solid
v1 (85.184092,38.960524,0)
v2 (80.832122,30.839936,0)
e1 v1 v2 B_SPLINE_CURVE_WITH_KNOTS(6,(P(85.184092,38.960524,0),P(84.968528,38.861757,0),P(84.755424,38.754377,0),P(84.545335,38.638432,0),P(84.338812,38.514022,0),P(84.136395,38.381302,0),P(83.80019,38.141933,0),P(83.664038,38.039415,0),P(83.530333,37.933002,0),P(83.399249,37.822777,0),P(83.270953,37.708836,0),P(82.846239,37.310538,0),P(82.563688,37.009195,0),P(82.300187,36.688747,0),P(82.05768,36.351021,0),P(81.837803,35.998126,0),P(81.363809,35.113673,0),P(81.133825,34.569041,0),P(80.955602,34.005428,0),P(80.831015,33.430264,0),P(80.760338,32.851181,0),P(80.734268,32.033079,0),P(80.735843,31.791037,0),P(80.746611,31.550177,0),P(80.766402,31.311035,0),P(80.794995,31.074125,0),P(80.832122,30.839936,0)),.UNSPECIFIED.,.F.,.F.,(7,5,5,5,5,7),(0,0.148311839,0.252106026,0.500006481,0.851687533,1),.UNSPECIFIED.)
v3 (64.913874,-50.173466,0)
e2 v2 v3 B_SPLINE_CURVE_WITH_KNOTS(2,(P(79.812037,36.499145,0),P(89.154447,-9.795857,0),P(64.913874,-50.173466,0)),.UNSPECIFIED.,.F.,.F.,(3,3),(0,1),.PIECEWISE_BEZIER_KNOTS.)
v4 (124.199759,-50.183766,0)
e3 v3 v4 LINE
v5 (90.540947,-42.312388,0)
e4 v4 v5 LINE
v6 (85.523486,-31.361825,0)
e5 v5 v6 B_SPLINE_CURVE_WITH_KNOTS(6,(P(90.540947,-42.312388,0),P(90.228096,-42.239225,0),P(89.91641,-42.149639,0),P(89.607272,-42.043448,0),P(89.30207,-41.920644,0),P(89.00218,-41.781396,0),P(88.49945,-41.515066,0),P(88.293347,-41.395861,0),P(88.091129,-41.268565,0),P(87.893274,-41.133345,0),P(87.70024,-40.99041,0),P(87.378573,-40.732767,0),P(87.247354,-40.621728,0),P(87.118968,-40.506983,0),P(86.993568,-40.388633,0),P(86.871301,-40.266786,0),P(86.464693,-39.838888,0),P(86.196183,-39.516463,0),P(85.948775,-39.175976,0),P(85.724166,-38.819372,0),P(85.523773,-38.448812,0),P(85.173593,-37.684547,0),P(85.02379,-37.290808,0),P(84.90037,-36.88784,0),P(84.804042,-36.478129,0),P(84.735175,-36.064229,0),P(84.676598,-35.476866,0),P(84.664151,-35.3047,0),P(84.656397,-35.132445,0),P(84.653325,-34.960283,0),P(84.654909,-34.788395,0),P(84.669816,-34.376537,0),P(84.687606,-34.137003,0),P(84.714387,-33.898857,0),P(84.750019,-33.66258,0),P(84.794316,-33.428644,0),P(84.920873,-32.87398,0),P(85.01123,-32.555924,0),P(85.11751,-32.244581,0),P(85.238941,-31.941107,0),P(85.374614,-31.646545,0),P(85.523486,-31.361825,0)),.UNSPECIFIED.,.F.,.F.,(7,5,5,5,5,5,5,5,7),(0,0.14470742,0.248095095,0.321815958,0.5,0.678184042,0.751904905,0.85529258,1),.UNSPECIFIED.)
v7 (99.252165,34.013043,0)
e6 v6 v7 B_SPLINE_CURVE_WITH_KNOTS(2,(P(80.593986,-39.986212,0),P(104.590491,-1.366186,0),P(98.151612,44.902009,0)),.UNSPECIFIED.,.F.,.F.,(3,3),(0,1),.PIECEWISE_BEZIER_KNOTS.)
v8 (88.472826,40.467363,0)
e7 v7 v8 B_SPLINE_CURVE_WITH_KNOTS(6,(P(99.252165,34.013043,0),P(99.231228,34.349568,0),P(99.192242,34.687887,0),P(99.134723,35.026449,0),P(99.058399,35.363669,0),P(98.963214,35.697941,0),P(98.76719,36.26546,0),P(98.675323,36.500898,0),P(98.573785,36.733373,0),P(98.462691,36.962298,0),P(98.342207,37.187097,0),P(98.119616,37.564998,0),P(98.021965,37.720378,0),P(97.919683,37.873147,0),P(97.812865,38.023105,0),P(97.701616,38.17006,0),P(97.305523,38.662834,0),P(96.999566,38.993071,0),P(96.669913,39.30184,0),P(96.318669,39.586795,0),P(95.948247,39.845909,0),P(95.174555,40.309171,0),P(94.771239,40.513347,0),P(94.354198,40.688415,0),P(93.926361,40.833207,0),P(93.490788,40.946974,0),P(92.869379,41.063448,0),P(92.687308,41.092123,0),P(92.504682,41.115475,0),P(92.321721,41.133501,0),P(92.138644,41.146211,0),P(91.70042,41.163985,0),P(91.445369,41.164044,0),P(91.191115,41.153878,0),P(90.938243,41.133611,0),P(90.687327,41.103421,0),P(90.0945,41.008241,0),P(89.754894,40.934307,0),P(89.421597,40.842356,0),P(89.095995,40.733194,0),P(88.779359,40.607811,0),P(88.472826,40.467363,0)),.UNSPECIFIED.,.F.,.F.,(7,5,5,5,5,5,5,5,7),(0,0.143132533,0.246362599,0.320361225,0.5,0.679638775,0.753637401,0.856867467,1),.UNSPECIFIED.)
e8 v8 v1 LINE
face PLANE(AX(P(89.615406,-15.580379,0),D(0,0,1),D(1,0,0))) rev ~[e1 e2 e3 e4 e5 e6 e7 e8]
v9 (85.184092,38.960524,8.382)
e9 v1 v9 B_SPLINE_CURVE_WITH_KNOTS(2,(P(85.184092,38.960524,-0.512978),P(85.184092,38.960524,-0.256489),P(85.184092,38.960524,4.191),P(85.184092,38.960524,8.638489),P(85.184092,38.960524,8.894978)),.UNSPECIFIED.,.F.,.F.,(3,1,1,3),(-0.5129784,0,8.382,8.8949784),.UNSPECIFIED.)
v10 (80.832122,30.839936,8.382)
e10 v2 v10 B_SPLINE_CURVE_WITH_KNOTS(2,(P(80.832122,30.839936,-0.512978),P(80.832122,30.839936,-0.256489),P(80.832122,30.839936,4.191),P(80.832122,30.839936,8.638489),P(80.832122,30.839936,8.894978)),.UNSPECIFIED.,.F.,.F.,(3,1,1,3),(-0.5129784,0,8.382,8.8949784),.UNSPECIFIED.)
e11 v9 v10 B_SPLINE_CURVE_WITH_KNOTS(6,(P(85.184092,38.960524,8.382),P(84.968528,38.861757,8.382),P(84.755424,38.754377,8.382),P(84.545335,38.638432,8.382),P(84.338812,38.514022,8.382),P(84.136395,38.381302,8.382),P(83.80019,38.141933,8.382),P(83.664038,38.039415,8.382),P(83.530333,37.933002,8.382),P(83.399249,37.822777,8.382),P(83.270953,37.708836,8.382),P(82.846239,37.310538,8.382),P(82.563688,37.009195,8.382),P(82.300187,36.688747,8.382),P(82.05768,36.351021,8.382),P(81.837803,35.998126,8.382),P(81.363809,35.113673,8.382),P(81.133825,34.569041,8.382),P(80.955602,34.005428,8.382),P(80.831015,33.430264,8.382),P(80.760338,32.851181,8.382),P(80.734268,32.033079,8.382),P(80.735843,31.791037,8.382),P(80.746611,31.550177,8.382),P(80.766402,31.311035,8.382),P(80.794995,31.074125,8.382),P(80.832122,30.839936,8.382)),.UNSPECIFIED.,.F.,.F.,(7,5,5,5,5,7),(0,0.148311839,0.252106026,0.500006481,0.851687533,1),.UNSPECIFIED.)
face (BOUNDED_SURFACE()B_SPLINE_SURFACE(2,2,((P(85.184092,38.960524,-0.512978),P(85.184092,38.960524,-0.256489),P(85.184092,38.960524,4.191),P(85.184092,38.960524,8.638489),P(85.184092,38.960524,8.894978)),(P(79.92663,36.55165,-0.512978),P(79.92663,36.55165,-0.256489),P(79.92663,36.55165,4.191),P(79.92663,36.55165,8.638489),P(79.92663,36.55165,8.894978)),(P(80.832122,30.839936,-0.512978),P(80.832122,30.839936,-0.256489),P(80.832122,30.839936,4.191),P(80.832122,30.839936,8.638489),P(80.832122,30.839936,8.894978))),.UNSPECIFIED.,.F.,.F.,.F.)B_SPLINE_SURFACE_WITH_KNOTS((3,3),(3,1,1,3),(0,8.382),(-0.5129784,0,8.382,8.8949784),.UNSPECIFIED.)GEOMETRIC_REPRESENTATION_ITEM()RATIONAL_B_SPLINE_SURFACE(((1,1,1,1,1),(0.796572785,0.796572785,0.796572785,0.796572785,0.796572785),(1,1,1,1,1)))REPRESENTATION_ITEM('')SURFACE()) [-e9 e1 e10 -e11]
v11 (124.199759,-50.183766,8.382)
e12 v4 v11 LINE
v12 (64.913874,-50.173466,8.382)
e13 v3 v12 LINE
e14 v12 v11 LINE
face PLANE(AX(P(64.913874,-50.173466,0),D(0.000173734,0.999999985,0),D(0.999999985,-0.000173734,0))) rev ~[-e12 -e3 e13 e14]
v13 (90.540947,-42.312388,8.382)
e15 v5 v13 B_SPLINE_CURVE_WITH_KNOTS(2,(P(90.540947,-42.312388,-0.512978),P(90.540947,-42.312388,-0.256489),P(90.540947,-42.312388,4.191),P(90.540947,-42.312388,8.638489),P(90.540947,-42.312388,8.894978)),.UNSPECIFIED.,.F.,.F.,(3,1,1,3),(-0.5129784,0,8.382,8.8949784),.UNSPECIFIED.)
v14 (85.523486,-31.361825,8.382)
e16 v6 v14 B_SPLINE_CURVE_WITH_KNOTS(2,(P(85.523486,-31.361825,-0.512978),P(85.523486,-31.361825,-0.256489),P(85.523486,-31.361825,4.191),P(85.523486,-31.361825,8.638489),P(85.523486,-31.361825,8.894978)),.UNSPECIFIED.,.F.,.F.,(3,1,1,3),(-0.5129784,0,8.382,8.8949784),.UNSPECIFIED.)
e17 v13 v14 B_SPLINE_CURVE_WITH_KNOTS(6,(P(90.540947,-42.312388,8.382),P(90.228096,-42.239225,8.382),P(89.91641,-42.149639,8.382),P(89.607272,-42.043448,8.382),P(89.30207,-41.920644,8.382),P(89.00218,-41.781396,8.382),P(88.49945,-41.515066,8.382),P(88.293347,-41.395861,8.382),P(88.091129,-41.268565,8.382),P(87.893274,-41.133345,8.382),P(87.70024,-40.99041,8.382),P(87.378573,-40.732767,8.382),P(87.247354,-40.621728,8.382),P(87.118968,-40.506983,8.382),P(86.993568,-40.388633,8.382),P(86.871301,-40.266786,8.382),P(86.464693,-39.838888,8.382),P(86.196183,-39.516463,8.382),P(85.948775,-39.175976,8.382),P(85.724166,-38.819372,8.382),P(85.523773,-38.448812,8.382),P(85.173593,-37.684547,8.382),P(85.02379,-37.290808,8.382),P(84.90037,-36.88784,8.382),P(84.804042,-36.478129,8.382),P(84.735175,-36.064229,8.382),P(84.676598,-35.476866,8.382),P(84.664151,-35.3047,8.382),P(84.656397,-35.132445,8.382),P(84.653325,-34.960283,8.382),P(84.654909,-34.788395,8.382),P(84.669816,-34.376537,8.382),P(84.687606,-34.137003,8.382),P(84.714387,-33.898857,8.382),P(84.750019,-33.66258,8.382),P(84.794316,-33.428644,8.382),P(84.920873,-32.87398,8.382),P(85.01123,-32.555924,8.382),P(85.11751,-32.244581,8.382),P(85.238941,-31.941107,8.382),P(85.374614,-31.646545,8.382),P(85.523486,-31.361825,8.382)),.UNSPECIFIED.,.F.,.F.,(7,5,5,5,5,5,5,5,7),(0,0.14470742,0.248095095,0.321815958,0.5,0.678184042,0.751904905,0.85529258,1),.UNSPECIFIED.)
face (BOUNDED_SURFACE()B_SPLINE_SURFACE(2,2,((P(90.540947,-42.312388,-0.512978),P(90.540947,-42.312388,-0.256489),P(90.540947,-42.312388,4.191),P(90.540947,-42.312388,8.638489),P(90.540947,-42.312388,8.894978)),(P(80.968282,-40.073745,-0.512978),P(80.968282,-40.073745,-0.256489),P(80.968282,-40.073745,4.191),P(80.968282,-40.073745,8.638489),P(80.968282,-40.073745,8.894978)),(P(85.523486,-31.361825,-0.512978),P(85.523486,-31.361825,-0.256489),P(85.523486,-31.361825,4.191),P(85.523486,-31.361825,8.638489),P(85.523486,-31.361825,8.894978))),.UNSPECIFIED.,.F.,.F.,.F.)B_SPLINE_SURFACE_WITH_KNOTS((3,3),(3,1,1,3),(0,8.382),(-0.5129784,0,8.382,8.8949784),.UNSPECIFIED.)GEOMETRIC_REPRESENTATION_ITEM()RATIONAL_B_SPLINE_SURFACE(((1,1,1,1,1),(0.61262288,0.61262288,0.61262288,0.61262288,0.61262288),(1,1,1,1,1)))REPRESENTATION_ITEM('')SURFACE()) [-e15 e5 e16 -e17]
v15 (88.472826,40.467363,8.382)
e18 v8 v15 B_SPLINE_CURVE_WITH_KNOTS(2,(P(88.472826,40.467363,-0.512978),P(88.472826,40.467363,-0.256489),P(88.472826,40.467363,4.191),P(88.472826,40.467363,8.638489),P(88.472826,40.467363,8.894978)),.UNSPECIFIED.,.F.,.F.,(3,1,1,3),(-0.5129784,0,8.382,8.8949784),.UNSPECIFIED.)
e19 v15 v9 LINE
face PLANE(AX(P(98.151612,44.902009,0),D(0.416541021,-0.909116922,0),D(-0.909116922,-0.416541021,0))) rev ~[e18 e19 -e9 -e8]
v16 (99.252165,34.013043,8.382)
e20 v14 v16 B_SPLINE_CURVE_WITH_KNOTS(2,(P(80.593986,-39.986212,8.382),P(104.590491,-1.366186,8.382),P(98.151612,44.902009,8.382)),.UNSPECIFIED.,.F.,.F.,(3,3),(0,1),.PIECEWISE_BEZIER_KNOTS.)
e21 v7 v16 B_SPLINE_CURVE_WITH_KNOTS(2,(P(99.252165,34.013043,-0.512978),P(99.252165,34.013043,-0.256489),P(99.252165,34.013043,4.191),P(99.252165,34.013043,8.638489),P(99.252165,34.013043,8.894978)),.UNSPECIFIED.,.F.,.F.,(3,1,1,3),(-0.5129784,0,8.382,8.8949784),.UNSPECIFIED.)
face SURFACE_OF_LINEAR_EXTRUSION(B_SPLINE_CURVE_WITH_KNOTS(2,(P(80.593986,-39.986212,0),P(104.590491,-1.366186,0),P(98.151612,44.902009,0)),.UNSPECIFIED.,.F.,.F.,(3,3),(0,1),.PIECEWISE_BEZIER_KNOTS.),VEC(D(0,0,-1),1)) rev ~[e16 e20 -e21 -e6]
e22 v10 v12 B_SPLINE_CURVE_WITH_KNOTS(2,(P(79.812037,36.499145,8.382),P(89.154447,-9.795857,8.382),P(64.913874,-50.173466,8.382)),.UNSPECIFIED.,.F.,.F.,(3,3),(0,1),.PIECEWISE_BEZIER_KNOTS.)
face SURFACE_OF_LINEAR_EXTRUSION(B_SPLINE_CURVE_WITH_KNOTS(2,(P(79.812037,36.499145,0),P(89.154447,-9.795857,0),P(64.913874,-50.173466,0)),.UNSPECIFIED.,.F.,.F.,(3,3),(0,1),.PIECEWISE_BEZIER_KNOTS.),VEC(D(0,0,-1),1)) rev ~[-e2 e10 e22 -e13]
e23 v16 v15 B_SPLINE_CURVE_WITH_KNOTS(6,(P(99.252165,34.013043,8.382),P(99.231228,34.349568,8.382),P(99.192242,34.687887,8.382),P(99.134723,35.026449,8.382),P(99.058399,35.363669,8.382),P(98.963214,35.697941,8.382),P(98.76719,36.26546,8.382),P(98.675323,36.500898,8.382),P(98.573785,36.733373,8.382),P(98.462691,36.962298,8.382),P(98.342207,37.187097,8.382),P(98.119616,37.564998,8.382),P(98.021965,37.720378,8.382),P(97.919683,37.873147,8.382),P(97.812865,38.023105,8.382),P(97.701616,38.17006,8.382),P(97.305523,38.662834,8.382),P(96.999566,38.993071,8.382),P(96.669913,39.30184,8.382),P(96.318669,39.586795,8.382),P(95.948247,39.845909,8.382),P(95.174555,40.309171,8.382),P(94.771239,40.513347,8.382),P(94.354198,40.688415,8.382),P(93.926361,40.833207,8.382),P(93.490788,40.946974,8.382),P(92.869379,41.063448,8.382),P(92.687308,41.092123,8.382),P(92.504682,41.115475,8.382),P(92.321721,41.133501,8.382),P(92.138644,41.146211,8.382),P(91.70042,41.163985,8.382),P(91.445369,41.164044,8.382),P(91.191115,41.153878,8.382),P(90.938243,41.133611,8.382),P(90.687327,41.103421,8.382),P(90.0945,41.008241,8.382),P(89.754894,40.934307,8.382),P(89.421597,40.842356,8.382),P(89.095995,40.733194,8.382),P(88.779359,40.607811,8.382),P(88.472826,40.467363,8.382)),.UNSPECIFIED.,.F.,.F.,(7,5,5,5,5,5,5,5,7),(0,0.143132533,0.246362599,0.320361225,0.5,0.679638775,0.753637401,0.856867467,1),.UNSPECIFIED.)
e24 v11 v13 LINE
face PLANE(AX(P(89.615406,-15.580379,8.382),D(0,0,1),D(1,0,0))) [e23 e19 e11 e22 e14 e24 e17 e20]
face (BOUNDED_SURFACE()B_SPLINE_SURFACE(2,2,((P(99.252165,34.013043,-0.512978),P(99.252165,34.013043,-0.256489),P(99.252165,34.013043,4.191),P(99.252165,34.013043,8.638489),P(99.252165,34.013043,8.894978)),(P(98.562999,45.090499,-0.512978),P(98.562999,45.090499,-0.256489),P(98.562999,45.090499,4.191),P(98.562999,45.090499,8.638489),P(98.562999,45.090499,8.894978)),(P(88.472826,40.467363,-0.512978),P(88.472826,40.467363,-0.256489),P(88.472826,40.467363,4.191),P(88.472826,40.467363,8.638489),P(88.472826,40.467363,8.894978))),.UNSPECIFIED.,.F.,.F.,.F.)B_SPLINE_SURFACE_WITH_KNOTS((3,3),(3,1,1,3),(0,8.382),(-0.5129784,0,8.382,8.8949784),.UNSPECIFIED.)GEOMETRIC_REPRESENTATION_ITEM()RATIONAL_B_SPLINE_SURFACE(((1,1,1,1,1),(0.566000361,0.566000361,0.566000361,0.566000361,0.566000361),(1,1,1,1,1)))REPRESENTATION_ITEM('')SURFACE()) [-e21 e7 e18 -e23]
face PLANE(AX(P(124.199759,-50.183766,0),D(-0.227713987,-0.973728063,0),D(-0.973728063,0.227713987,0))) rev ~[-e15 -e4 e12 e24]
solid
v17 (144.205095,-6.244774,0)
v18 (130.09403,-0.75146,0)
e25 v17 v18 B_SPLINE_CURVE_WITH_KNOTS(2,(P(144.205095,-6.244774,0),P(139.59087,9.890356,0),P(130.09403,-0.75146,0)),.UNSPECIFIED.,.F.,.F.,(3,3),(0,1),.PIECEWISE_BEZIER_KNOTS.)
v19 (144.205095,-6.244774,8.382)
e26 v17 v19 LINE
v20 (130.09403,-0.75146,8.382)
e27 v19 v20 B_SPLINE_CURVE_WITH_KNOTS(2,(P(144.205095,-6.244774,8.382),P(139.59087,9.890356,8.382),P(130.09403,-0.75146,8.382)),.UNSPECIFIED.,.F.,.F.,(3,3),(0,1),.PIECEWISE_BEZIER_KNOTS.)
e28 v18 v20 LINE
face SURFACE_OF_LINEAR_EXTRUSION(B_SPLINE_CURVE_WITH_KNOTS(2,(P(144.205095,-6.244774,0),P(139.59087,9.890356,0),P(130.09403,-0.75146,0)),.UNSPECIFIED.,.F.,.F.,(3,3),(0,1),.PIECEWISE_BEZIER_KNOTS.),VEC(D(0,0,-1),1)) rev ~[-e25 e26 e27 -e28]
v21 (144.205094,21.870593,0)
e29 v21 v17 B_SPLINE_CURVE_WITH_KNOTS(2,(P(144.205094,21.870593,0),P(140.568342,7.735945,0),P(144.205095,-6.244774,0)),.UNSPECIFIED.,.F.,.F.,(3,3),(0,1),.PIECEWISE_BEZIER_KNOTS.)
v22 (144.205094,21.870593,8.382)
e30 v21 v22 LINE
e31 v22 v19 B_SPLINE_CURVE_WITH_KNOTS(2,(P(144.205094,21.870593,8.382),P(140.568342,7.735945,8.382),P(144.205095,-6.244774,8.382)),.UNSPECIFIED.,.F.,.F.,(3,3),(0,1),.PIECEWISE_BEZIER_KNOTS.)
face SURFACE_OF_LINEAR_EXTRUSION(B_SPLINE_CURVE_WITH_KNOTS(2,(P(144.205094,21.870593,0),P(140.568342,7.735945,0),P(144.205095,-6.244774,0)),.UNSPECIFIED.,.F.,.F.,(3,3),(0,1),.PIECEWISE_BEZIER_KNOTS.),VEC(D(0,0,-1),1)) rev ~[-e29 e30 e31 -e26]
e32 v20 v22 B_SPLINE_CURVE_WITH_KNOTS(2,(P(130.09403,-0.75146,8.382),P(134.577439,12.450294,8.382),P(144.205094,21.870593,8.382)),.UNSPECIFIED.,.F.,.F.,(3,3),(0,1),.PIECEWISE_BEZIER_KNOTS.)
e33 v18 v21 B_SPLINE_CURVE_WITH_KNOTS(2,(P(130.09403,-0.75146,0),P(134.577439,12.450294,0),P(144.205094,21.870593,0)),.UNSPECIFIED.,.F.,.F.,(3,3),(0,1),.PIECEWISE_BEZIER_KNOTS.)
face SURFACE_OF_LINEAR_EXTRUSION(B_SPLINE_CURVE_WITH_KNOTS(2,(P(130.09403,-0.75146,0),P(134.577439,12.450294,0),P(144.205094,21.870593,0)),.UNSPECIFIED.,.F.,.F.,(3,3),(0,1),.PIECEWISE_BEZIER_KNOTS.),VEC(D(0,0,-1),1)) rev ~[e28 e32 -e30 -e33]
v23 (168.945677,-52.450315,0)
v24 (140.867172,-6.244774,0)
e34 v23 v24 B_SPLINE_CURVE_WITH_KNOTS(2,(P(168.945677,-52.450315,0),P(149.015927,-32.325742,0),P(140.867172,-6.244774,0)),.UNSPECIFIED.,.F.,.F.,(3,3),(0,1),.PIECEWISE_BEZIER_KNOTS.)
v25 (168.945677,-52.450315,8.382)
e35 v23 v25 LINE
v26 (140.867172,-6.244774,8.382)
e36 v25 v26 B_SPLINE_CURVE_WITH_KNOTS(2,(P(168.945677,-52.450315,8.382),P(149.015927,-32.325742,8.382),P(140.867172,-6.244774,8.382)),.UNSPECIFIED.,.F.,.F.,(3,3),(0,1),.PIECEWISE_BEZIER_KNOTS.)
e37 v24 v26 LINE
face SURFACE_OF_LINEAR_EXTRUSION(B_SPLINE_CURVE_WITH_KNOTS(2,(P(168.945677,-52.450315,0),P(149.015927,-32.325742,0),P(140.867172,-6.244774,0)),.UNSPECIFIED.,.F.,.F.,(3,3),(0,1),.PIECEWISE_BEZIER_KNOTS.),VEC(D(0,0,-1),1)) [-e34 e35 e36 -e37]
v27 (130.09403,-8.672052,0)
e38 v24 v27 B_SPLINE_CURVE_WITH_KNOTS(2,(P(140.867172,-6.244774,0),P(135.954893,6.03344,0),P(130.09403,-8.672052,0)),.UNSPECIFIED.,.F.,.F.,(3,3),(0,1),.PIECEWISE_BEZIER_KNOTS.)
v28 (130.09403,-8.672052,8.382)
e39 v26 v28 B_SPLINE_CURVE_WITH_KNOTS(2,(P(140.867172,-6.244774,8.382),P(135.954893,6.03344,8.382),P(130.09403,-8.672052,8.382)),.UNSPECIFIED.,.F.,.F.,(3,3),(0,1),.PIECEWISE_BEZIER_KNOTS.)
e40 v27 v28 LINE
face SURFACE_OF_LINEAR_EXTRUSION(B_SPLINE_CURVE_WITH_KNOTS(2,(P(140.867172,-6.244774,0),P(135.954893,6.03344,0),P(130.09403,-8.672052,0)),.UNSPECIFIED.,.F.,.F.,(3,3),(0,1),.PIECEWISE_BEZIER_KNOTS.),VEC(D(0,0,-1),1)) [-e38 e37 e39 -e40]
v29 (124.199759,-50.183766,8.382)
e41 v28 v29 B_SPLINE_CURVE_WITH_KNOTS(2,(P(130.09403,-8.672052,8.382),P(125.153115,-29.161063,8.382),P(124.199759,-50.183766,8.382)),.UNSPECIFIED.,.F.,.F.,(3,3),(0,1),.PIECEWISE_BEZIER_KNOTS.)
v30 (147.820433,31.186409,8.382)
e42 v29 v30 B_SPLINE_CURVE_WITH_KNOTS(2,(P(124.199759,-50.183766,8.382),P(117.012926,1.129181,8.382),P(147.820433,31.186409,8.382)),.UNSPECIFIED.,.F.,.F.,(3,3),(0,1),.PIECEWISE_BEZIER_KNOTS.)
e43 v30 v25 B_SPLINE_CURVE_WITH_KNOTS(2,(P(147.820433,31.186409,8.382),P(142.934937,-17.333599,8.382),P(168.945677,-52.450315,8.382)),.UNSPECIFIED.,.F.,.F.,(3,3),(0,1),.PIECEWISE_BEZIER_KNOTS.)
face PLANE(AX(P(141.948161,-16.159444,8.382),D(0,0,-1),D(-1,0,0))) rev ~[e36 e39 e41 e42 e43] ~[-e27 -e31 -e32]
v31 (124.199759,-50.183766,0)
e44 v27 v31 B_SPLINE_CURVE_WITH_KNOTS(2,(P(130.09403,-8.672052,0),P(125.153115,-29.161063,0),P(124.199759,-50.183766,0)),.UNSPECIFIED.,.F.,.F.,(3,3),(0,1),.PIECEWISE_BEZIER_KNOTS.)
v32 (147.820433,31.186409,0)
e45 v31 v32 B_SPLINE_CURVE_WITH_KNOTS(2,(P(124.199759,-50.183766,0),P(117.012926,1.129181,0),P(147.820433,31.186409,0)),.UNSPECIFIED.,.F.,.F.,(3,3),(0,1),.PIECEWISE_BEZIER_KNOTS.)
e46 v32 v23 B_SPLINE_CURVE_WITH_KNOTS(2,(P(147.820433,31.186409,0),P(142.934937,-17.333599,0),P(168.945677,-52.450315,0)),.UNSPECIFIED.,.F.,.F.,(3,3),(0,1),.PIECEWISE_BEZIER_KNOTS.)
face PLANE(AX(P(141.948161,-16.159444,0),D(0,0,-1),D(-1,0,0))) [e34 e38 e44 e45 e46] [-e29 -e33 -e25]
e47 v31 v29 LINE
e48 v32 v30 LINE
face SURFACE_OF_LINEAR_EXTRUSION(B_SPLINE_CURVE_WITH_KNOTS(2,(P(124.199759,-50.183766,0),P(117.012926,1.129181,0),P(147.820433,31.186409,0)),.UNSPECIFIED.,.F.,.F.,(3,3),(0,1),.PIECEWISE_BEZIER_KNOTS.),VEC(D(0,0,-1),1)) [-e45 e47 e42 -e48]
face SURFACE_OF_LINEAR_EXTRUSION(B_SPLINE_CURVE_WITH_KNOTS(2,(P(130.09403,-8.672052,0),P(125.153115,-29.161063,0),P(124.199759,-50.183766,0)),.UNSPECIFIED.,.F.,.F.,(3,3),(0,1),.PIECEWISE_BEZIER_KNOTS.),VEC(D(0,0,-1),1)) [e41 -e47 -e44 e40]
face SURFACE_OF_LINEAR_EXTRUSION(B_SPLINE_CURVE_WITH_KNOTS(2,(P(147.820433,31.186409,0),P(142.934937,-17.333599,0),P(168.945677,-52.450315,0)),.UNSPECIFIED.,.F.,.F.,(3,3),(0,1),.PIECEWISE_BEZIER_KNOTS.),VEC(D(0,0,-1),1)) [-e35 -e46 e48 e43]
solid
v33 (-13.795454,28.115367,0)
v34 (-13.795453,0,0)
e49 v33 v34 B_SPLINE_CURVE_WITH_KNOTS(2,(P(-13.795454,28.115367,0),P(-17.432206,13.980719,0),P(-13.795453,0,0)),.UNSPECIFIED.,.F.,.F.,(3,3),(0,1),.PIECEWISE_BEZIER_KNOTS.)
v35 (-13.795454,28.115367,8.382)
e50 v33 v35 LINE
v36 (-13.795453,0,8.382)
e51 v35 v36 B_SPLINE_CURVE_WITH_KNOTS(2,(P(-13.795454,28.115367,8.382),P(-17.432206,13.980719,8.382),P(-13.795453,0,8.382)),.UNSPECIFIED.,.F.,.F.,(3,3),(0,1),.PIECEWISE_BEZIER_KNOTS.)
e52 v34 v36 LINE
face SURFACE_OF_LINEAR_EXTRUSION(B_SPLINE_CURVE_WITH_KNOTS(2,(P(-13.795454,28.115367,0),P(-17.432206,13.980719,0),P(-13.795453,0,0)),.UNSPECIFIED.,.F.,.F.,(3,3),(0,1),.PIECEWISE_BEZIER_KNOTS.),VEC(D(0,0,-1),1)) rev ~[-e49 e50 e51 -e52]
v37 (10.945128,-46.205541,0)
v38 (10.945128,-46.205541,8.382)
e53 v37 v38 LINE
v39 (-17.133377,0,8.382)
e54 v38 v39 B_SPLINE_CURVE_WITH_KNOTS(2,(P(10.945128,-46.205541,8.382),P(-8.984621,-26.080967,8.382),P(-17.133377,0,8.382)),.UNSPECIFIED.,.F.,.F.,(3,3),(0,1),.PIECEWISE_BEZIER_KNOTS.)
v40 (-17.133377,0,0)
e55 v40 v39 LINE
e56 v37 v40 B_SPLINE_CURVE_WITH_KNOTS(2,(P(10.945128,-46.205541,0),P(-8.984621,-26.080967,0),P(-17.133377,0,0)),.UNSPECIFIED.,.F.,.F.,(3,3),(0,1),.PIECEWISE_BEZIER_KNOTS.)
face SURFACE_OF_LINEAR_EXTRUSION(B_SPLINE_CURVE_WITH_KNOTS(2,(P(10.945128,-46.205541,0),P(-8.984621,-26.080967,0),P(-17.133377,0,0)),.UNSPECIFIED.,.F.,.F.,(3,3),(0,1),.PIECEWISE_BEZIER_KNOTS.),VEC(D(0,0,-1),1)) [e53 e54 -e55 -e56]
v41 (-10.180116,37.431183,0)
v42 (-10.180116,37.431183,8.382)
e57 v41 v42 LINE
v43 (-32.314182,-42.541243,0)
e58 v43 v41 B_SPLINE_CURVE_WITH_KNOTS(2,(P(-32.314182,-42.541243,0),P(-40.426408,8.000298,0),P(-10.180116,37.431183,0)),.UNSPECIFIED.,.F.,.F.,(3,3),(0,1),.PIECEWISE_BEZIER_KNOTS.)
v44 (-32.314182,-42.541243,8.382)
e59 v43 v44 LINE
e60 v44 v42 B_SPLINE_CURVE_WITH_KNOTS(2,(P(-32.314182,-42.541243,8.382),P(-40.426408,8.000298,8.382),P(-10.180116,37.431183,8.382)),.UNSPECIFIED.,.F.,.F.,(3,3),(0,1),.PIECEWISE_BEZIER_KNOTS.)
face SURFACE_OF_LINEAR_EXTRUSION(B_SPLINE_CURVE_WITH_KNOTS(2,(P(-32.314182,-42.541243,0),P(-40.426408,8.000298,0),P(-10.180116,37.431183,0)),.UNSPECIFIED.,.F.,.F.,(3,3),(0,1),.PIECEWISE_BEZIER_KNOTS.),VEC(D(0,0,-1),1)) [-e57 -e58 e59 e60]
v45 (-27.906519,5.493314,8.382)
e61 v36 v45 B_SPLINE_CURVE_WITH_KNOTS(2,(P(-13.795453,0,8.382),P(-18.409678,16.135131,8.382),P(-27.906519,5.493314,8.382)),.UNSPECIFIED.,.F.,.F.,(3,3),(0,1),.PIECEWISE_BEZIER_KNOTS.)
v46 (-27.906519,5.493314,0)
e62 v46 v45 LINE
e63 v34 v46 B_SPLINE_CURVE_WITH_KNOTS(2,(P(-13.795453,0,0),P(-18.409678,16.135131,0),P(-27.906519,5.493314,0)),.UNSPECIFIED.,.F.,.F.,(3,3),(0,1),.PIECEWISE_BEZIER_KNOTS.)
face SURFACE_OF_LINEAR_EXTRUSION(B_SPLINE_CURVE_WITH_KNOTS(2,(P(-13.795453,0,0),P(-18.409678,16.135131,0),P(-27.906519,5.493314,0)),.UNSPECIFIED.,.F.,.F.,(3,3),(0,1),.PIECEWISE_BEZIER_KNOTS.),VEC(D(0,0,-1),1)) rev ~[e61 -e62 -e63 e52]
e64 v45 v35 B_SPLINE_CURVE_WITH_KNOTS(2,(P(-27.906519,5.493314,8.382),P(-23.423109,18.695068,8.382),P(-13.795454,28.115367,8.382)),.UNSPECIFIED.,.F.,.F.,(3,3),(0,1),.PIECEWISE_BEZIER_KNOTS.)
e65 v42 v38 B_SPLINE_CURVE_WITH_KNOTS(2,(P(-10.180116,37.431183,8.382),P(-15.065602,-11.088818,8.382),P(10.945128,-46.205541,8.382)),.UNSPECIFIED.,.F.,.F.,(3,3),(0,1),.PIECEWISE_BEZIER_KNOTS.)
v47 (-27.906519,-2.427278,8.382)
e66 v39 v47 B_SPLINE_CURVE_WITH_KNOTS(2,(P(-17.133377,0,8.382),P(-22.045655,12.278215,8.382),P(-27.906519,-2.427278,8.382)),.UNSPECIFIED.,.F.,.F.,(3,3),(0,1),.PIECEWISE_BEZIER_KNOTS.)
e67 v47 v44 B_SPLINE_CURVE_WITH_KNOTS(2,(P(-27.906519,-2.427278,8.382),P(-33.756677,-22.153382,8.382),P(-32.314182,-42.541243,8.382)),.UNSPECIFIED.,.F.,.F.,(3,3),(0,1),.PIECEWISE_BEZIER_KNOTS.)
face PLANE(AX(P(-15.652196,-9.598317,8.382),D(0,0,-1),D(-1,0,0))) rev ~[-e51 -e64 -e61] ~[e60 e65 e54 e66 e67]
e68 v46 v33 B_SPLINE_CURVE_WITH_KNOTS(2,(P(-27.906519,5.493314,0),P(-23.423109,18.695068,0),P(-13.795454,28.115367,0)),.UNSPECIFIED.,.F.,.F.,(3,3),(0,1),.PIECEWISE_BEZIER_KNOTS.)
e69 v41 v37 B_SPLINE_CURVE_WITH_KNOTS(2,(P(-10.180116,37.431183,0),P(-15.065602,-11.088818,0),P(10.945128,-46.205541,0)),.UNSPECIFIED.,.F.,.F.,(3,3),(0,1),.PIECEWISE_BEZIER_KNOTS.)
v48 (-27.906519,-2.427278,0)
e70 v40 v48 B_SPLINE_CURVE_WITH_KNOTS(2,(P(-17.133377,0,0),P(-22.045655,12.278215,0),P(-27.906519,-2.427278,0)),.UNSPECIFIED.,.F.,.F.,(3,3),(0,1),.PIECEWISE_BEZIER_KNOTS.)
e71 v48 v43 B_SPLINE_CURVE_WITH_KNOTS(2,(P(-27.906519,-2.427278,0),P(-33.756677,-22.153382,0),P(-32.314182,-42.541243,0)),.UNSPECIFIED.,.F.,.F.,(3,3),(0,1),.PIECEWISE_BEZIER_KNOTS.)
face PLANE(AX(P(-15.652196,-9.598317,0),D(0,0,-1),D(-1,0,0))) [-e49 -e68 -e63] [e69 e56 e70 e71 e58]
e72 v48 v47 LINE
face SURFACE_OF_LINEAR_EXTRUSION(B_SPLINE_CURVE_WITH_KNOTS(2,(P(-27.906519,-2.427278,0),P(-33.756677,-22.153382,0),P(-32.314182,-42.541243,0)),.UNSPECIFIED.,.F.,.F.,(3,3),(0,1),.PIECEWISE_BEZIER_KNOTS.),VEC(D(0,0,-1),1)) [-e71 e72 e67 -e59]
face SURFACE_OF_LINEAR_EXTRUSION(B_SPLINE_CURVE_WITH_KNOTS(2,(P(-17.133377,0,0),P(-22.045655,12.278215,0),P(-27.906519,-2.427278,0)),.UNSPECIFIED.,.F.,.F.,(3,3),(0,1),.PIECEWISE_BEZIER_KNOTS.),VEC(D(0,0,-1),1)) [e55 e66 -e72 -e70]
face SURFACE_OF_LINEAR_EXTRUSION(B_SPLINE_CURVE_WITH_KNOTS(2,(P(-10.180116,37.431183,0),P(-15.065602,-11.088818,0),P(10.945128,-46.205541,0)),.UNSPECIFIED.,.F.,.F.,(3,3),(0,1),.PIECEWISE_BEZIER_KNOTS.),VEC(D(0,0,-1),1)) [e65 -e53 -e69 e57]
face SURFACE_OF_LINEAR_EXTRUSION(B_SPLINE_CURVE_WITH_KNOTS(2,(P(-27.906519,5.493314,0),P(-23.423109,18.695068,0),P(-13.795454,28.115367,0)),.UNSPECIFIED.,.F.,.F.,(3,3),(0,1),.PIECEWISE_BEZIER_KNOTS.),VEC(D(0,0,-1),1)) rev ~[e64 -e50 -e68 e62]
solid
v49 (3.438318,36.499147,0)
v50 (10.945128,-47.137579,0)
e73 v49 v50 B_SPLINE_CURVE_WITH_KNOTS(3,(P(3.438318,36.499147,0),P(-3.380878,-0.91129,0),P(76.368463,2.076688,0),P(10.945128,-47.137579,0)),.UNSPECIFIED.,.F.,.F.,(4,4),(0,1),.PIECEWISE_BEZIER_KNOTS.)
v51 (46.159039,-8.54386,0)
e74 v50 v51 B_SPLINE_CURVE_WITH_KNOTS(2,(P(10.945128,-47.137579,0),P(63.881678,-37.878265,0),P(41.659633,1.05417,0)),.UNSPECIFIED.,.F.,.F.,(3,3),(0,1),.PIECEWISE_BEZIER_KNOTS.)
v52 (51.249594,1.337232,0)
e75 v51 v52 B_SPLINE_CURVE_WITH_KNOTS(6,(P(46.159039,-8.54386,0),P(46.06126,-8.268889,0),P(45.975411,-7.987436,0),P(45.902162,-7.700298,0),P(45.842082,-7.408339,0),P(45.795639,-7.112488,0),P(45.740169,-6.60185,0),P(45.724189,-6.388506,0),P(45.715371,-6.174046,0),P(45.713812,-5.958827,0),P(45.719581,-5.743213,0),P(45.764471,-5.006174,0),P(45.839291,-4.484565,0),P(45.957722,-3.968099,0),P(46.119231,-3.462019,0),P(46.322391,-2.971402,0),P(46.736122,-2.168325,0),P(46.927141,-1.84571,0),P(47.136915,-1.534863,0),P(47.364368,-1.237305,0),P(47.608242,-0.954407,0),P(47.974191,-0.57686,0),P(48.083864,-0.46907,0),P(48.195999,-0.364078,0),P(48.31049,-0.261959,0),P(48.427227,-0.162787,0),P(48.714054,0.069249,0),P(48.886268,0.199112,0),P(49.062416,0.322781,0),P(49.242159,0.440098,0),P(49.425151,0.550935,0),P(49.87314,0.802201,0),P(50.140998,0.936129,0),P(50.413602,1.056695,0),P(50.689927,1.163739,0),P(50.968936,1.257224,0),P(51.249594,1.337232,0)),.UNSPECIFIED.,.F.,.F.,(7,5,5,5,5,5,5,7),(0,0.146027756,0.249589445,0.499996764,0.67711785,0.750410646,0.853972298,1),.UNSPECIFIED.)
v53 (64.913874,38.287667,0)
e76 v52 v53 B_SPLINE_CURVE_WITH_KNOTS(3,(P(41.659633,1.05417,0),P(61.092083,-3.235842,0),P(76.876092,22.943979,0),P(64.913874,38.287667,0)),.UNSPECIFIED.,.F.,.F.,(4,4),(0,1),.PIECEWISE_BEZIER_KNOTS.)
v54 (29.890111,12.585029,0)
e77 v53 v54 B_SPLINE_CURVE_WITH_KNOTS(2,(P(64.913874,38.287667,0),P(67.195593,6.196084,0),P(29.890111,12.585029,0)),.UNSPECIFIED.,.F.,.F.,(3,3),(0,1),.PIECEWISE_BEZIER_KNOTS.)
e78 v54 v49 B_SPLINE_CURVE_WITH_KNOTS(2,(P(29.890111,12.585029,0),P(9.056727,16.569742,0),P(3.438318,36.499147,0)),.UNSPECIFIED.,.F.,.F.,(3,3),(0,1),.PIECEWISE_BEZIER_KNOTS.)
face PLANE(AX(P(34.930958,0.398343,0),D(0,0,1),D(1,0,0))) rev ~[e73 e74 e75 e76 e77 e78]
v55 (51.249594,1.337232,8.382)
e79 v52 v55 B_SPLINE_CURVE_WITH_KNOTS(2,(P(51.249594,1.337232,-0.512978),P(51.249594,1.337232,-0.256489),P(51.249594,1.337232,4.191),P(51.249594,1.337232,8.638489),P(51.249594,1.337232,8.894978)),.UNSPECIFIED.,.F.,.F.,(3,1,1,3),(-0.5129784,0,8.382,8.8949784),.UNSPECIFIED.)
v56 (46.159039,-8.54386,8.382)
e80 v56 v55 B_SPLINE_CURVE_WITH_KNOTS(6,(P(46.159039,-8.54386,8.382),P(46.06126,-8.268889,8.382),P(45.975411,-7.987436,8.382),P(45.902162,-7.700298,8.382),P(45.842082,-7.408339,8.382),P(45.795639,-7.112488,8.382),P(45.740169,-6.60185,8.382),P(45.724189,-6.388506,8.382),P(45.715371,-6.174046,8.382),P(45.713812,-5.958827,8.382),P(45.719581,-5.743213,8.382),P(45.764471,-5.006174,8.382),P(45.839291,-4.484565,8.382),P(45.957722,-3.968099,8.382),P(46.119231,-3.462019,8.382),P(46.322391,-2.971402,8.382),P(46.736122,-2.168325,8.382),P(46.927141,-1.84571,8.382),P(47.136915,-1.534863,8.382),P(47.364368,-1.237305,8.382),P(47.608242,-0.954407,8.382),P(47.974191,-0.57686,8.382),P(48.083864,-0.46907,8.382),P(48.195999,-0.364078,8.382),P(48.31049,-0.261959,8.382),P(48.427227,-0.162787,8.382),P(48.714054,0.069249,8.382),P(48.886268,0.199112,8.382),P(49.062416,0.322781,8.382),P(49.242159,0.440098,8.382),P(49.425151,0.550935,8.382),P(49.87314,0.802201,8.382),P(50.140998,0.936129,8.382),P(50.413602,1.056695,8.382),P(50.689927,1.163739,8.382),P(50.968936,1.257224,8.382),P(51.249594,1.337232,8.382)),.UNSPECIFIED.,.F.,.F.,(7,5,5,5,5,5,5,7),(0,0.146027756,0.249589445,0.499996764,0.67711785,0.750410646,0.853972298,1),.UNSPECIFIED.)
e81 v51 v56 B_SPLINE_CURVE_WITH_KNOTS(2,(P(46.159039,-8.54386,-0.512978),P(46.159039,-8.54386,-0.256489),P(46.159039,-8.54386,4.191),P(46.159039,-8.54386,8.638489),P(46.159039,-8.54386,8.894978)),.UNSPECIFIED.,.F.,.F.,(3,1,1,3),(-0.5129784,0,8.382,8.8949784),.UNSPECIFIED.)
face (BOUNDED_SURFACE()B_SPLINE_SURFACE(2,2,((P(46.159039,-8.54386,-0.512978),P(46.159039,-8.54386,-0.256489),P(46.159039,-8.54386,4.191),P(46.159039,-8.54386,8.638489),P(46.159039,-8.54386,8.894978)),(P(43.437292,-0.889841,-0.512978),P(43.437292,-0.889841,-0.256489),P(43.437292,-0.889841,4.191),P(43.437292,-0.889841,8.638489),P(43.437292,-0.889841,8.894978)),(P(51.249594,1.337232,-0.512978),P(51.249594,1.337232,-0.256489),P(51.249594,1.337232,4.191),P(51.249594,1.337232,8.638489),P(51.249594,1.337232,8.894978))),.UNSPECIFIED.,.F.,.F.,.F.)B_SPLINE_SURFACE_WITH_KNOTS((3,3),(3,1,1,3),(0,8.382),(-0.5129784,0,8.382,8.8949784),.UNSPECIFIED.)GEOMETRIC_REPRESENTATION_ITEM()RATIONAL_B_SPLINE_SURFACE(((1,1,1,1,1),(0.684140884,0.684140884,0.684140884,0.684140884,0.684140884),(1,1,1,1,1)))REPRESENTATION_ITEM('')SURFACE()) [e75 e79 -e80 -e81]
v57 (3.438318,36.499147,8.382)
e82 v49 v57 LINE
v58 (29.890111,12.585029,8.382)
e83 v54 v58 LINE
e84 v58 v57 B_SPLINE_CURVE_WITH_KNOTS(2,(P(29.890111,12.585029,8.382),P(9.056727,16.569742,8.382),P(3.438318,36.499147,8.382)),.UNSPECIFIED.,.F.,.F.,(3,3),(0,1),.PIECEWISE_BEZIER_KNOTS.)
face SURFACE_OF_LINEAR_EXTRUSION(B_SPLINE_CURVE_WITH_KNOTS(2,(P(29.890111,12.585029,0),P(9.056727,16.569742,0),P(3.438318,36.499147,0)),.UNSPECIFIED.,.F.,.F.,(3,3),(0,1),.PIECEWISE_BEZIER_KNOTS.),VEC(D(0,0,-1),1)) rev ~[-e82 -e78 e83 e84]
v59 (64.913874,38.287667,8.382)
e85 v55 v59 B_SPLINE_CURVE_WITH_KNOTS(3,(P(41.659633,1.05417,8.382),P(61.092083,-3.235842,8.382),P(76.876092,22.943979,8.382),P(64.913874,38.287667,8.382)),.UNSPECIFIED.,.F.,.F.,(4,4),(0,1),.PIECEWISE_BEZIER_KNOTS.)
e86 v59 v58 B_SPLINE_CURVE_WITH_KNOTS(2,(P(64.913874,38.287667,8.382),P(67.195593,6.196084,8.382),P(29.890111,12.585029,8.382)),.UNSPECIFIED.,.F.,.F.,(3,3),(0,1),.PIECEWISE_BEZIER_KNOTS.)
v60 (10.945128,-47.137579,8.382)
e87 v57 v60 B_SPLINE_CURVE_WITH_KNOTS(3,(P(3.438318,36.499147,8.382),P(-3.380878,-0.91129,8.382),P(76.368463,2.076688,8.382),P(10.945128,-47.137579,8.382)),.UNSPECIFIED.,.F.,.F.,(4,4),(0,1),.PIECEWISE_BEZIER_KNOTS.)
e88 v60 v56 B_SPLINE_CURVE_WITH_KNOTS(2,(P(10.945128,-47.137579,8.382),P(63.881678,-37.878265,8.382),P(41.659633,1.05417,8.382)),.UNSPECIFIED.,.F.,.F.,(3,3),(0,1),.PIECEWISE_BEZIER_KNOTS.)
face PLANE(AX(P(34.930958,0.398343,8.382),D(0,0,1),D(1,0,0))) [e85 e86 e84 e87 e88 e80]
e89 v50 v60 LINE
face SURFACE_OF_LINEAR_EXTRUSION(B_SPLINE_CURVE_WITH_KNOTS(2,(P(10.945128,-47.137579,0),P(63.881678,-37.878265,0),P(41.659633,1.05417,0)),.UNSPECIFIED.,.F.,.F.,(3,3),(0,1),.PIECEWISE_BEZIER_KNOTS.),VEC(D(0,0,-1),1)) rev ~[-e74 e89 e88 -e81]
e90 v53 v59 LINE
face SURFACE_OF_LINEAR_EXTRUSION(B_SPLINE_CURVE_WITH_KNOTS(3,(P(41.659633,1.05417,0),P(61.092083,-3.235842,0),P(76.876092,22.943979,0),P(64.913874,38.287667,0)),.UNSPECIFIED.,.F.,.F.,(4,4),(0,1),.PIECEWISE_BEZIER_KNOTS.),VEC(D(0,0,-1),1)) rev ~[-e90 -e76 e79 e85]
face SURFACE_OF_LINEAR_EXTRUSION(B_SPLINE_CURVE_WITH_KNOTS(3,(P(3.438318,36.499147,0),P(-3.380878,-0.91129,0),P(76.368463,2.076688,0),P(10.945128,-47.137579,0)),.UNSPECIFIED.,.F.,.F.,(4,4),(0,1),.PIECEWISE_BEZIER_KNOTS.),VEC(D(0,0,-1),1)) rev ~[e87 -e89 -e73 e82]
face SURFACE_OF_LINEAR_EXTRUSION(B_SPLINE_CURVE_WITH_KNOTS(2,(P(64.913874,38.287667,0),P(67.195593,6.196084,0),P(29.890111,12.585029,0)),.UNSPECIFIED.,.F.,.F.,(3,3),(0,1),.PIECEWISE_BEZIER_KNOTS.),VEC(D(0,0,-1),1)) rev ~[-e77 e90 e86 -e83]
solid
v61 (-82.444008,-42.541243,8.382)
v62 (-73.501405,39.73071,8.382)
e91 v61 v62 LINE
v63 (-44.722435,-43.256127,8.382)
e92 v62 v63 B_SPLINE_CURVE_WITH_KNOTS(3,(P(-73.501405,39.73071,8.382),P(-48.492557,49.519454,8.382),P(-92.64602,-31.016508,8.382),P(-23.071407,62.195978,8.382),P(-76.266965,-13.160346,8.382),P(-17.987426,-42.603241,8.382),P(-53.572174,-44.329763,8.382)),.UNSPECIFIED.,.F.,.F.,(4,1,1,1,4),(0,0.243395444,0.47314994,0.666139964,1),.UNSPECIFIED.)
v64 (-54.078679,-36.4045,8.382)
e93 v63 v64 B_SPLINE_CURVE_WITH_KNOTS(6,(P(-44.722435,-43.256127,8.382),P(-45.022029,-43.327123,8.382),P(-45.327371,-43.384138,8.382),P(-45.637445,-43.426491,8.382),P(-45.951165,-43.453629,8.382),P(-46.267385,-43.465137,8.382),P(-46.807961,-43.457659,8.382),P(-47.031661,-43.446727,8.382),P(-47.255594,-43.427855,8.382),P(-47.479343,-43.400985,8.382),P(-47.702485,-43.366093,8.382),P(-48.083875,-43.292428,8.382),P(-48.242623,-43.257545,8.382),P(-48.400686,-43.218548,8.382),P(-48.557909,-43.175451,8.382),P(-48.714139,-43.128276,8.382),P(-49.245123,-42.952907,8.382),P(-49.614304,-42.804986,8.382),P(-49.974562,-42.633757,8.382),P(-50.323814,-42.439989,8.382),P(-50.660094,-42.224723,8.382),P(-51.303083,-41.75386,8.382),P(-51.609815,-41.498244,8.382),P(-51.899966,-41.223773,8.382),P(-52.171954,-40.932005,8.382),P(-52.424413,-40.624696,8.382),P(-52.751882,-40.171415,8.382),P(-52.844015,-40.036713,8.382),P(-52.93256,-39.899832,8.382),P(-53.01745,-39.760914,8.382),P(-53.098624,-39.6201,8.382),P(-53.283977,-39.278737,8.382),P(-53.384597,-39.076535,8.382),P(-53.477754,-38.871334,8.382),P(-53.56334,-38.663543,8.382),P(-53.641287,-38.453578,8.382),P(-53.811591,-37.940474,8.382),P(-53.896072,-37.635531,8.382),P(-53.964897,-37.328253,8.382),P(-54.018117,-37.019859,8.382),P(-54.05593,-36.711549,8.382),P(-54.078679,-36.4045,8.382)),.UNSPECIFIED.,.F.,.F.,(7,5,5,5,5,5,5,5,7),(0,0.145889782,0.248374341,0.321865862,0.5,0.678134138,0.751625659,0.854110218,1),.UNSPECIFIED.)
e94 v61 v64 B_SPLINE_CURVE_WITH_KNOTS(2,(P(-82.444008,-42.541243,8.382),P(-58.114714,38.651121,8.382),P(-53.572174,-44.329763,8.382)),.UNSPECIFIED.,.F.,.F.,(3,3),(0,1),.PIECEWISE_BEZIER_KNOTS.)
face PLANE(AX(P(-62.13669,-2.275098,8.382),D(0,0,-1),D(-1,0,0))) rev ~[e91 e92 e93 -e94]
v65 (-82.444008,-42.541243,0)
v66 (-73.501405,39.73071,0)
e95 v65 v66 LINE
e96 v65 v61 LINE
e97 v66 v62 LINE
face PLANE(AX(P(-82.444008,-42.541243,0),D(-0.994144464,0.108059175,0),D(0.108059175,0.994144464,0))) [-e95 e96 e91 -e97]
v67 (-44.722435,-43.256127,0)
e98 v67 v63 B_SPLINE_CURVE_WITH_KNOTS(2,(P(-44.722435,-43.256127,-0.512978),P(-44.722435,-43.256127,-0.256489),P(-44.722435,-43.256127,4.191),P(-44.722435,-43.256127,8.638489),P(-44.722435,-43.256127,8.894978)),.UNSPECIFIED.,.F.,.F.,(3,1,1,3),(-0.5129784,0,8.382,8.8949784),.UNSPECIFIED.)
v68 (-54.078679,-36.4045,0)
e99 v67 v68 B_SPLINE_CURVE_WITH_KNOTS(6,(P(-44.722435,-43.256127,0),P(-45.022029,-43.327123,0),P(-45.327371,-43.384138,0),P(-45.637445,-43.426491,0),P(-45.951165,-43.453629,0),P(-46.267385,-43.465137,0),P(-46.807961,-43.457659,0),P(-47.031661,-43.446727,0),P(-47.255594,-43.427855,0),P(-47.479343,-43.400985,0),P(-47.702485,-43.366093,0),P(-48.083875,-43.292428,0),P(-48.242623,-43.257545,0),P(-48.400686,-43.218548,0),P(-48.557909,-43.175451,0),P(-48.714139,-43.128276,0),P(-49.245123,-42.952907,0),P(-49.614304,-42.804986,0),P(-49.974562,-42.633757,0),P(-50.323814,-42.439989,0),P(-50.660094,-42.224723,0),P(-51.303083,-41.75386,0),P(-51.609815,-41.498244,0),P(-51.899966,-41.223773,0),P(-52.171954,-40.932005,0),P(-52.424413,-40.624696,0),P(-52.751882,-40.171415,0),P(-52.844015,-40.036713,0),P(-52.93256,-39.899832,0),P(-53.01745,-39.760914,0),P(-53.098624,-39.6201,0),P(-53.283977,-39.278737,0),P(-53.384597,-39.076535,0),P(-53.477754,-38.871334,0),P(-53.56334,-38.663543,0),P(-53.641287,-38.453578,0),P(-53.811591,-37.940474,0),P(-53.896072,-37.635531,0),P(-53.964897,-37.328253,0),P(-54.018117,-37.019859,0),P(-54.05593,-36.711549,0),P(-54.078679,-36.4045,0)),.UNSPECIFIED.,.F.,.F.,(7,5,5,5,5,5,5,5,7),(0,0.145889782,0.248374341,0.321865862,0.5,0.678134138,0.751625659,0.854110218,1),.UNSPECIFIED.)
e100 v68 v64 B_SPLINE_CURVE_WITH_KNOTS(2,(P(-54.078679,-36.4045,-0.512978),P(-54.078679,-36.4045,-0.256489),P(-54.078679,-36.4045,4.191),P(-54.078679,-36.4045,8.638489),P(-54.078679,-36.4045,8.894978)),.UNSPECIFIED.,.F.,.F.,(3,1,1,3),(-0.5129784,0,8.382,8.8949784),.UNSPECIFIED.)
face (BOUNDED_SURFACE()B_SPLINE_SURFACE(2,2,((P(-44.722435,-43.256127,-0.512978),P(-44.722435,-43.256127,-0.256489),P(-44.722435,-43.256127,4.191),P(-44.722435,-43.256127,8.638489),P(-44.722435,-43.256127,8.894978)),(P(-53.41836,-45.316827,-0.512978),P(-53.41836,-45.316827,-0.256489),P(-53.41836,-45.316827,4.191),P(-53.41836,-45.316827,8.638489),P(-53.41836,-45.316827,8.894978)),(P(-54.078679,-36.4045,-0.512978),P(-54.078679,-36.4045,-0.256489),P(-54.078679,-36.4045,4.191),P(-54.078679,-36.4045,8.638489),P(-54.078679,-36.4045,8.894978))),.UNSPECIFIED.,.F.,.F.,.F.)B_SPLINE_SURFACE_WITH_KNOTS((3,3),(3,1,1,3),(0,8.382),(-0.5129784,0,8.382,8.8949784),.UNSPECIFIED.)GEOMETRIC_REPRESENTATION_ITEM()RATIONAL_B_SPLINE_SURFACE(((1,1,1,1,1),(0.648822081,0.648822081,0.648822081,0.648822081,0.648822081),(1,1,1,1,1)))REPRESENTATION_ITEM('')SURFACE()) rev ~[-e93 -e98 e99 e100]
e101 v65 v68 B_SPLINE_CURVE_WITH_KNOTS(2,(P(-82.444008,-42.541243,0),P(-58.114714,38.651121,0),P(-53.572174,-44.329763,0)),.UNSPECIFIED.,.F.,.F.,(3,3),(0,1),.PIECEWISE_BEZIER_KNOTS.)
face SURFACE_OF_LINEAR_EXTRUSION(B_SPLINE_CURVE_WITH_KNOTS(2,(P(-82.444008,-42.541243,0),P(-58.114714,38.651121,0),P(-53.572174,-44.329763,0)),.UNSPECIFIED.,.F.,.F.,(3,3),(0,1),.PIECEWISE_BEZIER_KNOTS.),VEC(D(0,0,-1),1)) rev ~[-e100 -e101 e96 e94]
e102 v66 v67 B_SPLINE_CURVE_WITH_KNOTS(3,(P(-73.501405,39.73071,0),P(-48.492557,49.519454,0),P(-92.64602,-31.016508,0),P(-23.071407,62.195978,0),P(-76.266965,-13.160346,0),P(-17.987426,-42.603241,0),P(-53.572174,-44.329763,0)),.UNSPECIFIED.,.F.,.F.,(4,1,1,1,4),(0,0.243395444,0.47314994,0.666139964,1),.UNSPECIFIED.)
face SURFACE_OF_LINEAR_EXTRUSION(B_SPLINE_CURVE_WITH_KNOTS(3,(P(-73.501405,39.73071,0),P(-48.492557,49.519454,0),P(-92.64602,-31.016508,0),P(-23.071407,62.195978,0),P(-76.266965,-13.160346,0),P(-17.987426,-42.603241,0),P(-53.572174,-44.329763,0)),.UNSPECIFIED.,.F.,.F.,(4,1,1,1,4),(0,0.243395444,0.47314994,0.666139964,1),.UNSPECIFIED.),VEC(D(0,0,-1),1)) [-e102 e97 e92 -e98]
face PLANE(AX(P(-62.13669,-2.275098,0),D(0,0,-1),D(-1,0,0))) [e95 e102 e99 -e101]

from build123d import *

# Parameters (mm, degrees)
BOSS_EXTRUDE7_DEPTH   = 8.382
BOSS_EXTRUDE7_2_DEPTH = 8.382
BOSS_EXTRUDE7_3_DEPTH = 8.382
BOSS_EXTRUDE7_4_DEPTH = 8.382
BOSS_EXTRUDE7_5_DEPTH = 8.382
FILLET1_R             = 7.62
FILLET2_R             = 7.62
FILLET3_R             = 7.62


with BuildPart() as part:
    # Sketch1 → Boss-Extrude7 (new body)
    with BuildSketch(Plane.XY):
        with BuildLine():
            add(Edge.make_bspline(
                [(80.593985758, -39.986212348), (104.590491263, -1.36618624), (98.15161207, 44.90200856)],
                knots=[0, 0, 0, 1, 1, 1], degree=2))
            Line((98.15161207, 44.90200856), (79.812036694, 36.499144996))
            add(Edge.make_bspline(
                [(79.812036694, 36.499144996), (89.154447315, -9.795856584), (64.913873917, -50.1734664)],
                knots=[0, 0, 0, 1, 1, 1], degree=2))
            Line((64.913873917, -50.1734664), (124.199759198, -50.183766386))
            Line((124.199759198, -50.183766386), (80.593985758, -39.986212348))
        make_face()
    extrude(amount=BOSS_EXTRUDE7_DEPTH)

    # Fillet1
    fillet1_edges = [part.edges().sort_by_distance(p)[0] for p in [
        (80.593985758, -39.986212348, 4.191),
        (79.812036694, 36.499144996, 4.191),
        (98.15161207, 44.90200856, 4.191),
    ]]
    fillet(fillet1_edges, radius=FILLET1_R)


with BuildPart() as body_2:
    # Sketch1 → Boss-Extrude7 2 (new body)
    with BuildSketch(Plane.XY):
        with BuildLine():
            add(Edge.make_bspline(
                [(124.199759198, -50.183766386), (117.012925983, 1.129181269), (147.820432676, 31.186409083)],
                knots=[0, 0, 0, 1, 1, 1], degree=2))
            add(Edge.make_bspline(
                [(130.094029688, -8.672052455), (125.153114682, -29.161062657), (124.199759198, -50.183766386)],
                knots=[0, 0, 0, 1, 1, 1], degree=2))
            add(Edge.make_bspline(
                [(140.867171715, -6.244774349), (135.954892962, 6.033440127), (130.094029688, -8.672052455)],
                knots=[0, 0, 0, 1, 1, 1], degree=2))
            add(Edge.make_bspline(
                [(168.945677423, -52.450314734), (149.01592665, -32.325741622), (140.867171715, -6.244774349)],
                knots=[0, 0, 0, 1, 1, 1], degree=2))
            add(Edge.make_bspline(
                [(147.820432676, 31.186409083), (142.934936535, -17.333599118), (168.945677423, -52.450314734)],
                knots=[0, 0, 0, 1, 1, 1], degree=2))
        make_face()
        with BuildLine():
            add(Edge.make_bspline(
                [(144.205094278, 21.870592822), (140.568342388, 7.735944588), (144.205095137, -6.244774401)],
                knots=[0, 0, 0, 1, 1, 1], degree=2))
            add(Edge.make_bspline(
                [(144.205095137, -6.244774401), (139.590870199, 9.890356254), (130.094029961, -0.751460023)],
                knots=[0, 0, 0, 1, 1, 1], degree=2))
            add(Edge.make_bspline(
                [(130.094029961, -0.751460023), (134.577438531, 12.450294456), (144.205094278, 21.870592822)],
                knots=[0, 0, 0, 1, 1, 1], degree=2))
        make_face(mode=Mode.SUBTRACT)
    extrude(amount=BOSS_EXTRUDE7_2_DEPTH)


with BuildPart() as body_3:
    # Sketch1 → Boss-Extrude7 3 (new body)
    with BuildSketch(Plane.XY):
        with BuildLine():
            add(Edge.make_bspline(
                [(-73.501404724, 39.730710138), (-48.4925566, 49.519454353), (-92.646020123, -31.016507841), (-23.071407093, 62.195978495), (-76.266965034, -13.16034631), (-17.987425724, -42.603241217), (-53.572173938, -44.329763315)],
                knots=[0, 0, 0, 0, 0.243395444, 0.47314994, 0.666139964, 1, 1, 1, 1], degree=3))
            Line((-73.501404724, 39.730710138), (-82.444007756, -42.541242581))
            add(Edge.make_bspline(
                [(-82.444007756, -42.541242581), (-58.114713757, 38.651120963), (-53.572173938, -44.329763315)],
                knots=[0, 0, 0, 1, 1, 1], degree=2))
        make_face()
    extrude(amount=BOSS_EXTRUDE7_3_DEPTH)

    # Fillet3
    fillet3_edges = [body_3.edges().sort_by_distance(p)[0] for p in [
        (-53.572173938, -44.329763315, 4.191),
    ]]
    fillet(fillet3_edges, radius=FILLET3_R)


with BuildPart() as body_4:
    # Sketch1 → Boss-Extrude7 4 (new body)
    with BuildSketch(Plane.XY):
        with BuildLine():
            add(Edge.make_bspline(
                [(-32.314181698, -42.541242543), (-40.426407552, 8.00029759), (-10.180115619, 37.43118326)],
                knots=[0, 0, 0, 1, 1, 1], degree=2))
            add(Edge.make_bspline(
                [(-27.906518833, -2.427278118), (-33.756676706, -22.153382102), (-32.314181698, -42.541242543)],
                knots=[0, 0, 0, 1, 1, 1], degree=2))
            add(Edge.make_bspline(
                [(-17.133376776, -1.24e-07), (-22.045655474, 12.278214596), (-27.906518833, -2.427278118)],
                knots=[0, 0, 0, 1, 1, 1], degree=2))
            add(Edge.make_bspline(
                [(10.945127821, -46.205541186), (-8.98462146, -26.080967176), (-17.133376776, -1.24e-07)],
                knots=[0, 0, 0, 1, 1, 1], degree=2))
            add(Edge.make_bspline(
                [(-10.180115619, 37.43118326), (-15.065602355, -11.08881845), (10.945127821, -46.205541186)],
                knots=[0, 0, 0, 1, 1, 1], degree=2))
        make_face()
        with BuildLine():
            add(Edge.make_bspline(
                [(-13.795454223, 28.115367177), (-17.432206261, 13.980718755), (-13.795453156, -3.62e-07)],
                knots=[0, 0, 0, 1, 1, 1], degree=2))
            add(Edge.make_bspline(
                [(-13.795453156, -3.62e-07), (-18.409678263, 16.13513086), (-27.906518828, 5.49331412)],
                knots=[0, 0, 0, 1, 1, 1], degree=2))
            add(Edge.make_bspline(
                [(-27.906518828, 5.49331412), (-23.42310895, 18.695067722), (-13.795454223, 28.115367177)],
                knots=[0, 0, 0, 1, 1, 1], degree=2))
        make_face(mode=Mode.SUBTRACT)
    extrude(amount=BOSS_EXTRUDE7_4_DEPTH)


with BuildPart() as body_5:
    # Sketch1 → Boss-Extrude7 5 (new body)
    with BuildSketch(Plane.XY):
        with BuildLine():
            add(Edge.make_bspline(
                [(29.890111286, 12.585029407), (9.05672741, 16.569741522), (3.43831823, 36.499146501)],
                knots=[0, 0, 0, 1, 1, 1], degree=2))
            add(Edge.make_bspline(
                [(3.43831823, 36.499146501), (-3.380877769, -0.911289563), (76.36846317, 2.076687962), (10.945127821, -47.137578729)],
                knots=[0, 0, 0, 0, 1, 1, 1, 1], degree=3))
            add(Edge.make_bspline(
                [(10.945127821, -47.137578729), (63.881678361, -37.878265116), (41.659633188, 1.054169954)],
                knots=[0, 0, 0, 1, 1, 1], degree=2))
            add(Edge.make_bspline(
                [(41.659633188, 1.054169954), (61.09208277, -3.235841598), (76.876091958, 22.943979497), (64.91387385, 38.287667017)],
                knots=[0, 0, 0, 0, 1, 1, 1, 1], degree=3))
            add(Edge.make_bspline(
                [(64.91387385, 38.287667017), (67.195593198, 6.196084158), (29.890111286, 12.585029407)],
                knots=[0, 0, 0, 1, 1, 1], degree=2))
        make_face()
    extrude(amount=BOSS_EXTRUDE7_5_DEPTH)

    # Fillet2
    fillet2_edges = [body_5.edges().sort_by_distance(p)[0] for p in [
        (41.659633188, 1.054169954, 4.191),
    ]]
    fillet(fillet2_edges, radius=FILLET2_R)


solid = Compound([part.part, body_2.part, body_3.part, body_4.part, body_5.part])
